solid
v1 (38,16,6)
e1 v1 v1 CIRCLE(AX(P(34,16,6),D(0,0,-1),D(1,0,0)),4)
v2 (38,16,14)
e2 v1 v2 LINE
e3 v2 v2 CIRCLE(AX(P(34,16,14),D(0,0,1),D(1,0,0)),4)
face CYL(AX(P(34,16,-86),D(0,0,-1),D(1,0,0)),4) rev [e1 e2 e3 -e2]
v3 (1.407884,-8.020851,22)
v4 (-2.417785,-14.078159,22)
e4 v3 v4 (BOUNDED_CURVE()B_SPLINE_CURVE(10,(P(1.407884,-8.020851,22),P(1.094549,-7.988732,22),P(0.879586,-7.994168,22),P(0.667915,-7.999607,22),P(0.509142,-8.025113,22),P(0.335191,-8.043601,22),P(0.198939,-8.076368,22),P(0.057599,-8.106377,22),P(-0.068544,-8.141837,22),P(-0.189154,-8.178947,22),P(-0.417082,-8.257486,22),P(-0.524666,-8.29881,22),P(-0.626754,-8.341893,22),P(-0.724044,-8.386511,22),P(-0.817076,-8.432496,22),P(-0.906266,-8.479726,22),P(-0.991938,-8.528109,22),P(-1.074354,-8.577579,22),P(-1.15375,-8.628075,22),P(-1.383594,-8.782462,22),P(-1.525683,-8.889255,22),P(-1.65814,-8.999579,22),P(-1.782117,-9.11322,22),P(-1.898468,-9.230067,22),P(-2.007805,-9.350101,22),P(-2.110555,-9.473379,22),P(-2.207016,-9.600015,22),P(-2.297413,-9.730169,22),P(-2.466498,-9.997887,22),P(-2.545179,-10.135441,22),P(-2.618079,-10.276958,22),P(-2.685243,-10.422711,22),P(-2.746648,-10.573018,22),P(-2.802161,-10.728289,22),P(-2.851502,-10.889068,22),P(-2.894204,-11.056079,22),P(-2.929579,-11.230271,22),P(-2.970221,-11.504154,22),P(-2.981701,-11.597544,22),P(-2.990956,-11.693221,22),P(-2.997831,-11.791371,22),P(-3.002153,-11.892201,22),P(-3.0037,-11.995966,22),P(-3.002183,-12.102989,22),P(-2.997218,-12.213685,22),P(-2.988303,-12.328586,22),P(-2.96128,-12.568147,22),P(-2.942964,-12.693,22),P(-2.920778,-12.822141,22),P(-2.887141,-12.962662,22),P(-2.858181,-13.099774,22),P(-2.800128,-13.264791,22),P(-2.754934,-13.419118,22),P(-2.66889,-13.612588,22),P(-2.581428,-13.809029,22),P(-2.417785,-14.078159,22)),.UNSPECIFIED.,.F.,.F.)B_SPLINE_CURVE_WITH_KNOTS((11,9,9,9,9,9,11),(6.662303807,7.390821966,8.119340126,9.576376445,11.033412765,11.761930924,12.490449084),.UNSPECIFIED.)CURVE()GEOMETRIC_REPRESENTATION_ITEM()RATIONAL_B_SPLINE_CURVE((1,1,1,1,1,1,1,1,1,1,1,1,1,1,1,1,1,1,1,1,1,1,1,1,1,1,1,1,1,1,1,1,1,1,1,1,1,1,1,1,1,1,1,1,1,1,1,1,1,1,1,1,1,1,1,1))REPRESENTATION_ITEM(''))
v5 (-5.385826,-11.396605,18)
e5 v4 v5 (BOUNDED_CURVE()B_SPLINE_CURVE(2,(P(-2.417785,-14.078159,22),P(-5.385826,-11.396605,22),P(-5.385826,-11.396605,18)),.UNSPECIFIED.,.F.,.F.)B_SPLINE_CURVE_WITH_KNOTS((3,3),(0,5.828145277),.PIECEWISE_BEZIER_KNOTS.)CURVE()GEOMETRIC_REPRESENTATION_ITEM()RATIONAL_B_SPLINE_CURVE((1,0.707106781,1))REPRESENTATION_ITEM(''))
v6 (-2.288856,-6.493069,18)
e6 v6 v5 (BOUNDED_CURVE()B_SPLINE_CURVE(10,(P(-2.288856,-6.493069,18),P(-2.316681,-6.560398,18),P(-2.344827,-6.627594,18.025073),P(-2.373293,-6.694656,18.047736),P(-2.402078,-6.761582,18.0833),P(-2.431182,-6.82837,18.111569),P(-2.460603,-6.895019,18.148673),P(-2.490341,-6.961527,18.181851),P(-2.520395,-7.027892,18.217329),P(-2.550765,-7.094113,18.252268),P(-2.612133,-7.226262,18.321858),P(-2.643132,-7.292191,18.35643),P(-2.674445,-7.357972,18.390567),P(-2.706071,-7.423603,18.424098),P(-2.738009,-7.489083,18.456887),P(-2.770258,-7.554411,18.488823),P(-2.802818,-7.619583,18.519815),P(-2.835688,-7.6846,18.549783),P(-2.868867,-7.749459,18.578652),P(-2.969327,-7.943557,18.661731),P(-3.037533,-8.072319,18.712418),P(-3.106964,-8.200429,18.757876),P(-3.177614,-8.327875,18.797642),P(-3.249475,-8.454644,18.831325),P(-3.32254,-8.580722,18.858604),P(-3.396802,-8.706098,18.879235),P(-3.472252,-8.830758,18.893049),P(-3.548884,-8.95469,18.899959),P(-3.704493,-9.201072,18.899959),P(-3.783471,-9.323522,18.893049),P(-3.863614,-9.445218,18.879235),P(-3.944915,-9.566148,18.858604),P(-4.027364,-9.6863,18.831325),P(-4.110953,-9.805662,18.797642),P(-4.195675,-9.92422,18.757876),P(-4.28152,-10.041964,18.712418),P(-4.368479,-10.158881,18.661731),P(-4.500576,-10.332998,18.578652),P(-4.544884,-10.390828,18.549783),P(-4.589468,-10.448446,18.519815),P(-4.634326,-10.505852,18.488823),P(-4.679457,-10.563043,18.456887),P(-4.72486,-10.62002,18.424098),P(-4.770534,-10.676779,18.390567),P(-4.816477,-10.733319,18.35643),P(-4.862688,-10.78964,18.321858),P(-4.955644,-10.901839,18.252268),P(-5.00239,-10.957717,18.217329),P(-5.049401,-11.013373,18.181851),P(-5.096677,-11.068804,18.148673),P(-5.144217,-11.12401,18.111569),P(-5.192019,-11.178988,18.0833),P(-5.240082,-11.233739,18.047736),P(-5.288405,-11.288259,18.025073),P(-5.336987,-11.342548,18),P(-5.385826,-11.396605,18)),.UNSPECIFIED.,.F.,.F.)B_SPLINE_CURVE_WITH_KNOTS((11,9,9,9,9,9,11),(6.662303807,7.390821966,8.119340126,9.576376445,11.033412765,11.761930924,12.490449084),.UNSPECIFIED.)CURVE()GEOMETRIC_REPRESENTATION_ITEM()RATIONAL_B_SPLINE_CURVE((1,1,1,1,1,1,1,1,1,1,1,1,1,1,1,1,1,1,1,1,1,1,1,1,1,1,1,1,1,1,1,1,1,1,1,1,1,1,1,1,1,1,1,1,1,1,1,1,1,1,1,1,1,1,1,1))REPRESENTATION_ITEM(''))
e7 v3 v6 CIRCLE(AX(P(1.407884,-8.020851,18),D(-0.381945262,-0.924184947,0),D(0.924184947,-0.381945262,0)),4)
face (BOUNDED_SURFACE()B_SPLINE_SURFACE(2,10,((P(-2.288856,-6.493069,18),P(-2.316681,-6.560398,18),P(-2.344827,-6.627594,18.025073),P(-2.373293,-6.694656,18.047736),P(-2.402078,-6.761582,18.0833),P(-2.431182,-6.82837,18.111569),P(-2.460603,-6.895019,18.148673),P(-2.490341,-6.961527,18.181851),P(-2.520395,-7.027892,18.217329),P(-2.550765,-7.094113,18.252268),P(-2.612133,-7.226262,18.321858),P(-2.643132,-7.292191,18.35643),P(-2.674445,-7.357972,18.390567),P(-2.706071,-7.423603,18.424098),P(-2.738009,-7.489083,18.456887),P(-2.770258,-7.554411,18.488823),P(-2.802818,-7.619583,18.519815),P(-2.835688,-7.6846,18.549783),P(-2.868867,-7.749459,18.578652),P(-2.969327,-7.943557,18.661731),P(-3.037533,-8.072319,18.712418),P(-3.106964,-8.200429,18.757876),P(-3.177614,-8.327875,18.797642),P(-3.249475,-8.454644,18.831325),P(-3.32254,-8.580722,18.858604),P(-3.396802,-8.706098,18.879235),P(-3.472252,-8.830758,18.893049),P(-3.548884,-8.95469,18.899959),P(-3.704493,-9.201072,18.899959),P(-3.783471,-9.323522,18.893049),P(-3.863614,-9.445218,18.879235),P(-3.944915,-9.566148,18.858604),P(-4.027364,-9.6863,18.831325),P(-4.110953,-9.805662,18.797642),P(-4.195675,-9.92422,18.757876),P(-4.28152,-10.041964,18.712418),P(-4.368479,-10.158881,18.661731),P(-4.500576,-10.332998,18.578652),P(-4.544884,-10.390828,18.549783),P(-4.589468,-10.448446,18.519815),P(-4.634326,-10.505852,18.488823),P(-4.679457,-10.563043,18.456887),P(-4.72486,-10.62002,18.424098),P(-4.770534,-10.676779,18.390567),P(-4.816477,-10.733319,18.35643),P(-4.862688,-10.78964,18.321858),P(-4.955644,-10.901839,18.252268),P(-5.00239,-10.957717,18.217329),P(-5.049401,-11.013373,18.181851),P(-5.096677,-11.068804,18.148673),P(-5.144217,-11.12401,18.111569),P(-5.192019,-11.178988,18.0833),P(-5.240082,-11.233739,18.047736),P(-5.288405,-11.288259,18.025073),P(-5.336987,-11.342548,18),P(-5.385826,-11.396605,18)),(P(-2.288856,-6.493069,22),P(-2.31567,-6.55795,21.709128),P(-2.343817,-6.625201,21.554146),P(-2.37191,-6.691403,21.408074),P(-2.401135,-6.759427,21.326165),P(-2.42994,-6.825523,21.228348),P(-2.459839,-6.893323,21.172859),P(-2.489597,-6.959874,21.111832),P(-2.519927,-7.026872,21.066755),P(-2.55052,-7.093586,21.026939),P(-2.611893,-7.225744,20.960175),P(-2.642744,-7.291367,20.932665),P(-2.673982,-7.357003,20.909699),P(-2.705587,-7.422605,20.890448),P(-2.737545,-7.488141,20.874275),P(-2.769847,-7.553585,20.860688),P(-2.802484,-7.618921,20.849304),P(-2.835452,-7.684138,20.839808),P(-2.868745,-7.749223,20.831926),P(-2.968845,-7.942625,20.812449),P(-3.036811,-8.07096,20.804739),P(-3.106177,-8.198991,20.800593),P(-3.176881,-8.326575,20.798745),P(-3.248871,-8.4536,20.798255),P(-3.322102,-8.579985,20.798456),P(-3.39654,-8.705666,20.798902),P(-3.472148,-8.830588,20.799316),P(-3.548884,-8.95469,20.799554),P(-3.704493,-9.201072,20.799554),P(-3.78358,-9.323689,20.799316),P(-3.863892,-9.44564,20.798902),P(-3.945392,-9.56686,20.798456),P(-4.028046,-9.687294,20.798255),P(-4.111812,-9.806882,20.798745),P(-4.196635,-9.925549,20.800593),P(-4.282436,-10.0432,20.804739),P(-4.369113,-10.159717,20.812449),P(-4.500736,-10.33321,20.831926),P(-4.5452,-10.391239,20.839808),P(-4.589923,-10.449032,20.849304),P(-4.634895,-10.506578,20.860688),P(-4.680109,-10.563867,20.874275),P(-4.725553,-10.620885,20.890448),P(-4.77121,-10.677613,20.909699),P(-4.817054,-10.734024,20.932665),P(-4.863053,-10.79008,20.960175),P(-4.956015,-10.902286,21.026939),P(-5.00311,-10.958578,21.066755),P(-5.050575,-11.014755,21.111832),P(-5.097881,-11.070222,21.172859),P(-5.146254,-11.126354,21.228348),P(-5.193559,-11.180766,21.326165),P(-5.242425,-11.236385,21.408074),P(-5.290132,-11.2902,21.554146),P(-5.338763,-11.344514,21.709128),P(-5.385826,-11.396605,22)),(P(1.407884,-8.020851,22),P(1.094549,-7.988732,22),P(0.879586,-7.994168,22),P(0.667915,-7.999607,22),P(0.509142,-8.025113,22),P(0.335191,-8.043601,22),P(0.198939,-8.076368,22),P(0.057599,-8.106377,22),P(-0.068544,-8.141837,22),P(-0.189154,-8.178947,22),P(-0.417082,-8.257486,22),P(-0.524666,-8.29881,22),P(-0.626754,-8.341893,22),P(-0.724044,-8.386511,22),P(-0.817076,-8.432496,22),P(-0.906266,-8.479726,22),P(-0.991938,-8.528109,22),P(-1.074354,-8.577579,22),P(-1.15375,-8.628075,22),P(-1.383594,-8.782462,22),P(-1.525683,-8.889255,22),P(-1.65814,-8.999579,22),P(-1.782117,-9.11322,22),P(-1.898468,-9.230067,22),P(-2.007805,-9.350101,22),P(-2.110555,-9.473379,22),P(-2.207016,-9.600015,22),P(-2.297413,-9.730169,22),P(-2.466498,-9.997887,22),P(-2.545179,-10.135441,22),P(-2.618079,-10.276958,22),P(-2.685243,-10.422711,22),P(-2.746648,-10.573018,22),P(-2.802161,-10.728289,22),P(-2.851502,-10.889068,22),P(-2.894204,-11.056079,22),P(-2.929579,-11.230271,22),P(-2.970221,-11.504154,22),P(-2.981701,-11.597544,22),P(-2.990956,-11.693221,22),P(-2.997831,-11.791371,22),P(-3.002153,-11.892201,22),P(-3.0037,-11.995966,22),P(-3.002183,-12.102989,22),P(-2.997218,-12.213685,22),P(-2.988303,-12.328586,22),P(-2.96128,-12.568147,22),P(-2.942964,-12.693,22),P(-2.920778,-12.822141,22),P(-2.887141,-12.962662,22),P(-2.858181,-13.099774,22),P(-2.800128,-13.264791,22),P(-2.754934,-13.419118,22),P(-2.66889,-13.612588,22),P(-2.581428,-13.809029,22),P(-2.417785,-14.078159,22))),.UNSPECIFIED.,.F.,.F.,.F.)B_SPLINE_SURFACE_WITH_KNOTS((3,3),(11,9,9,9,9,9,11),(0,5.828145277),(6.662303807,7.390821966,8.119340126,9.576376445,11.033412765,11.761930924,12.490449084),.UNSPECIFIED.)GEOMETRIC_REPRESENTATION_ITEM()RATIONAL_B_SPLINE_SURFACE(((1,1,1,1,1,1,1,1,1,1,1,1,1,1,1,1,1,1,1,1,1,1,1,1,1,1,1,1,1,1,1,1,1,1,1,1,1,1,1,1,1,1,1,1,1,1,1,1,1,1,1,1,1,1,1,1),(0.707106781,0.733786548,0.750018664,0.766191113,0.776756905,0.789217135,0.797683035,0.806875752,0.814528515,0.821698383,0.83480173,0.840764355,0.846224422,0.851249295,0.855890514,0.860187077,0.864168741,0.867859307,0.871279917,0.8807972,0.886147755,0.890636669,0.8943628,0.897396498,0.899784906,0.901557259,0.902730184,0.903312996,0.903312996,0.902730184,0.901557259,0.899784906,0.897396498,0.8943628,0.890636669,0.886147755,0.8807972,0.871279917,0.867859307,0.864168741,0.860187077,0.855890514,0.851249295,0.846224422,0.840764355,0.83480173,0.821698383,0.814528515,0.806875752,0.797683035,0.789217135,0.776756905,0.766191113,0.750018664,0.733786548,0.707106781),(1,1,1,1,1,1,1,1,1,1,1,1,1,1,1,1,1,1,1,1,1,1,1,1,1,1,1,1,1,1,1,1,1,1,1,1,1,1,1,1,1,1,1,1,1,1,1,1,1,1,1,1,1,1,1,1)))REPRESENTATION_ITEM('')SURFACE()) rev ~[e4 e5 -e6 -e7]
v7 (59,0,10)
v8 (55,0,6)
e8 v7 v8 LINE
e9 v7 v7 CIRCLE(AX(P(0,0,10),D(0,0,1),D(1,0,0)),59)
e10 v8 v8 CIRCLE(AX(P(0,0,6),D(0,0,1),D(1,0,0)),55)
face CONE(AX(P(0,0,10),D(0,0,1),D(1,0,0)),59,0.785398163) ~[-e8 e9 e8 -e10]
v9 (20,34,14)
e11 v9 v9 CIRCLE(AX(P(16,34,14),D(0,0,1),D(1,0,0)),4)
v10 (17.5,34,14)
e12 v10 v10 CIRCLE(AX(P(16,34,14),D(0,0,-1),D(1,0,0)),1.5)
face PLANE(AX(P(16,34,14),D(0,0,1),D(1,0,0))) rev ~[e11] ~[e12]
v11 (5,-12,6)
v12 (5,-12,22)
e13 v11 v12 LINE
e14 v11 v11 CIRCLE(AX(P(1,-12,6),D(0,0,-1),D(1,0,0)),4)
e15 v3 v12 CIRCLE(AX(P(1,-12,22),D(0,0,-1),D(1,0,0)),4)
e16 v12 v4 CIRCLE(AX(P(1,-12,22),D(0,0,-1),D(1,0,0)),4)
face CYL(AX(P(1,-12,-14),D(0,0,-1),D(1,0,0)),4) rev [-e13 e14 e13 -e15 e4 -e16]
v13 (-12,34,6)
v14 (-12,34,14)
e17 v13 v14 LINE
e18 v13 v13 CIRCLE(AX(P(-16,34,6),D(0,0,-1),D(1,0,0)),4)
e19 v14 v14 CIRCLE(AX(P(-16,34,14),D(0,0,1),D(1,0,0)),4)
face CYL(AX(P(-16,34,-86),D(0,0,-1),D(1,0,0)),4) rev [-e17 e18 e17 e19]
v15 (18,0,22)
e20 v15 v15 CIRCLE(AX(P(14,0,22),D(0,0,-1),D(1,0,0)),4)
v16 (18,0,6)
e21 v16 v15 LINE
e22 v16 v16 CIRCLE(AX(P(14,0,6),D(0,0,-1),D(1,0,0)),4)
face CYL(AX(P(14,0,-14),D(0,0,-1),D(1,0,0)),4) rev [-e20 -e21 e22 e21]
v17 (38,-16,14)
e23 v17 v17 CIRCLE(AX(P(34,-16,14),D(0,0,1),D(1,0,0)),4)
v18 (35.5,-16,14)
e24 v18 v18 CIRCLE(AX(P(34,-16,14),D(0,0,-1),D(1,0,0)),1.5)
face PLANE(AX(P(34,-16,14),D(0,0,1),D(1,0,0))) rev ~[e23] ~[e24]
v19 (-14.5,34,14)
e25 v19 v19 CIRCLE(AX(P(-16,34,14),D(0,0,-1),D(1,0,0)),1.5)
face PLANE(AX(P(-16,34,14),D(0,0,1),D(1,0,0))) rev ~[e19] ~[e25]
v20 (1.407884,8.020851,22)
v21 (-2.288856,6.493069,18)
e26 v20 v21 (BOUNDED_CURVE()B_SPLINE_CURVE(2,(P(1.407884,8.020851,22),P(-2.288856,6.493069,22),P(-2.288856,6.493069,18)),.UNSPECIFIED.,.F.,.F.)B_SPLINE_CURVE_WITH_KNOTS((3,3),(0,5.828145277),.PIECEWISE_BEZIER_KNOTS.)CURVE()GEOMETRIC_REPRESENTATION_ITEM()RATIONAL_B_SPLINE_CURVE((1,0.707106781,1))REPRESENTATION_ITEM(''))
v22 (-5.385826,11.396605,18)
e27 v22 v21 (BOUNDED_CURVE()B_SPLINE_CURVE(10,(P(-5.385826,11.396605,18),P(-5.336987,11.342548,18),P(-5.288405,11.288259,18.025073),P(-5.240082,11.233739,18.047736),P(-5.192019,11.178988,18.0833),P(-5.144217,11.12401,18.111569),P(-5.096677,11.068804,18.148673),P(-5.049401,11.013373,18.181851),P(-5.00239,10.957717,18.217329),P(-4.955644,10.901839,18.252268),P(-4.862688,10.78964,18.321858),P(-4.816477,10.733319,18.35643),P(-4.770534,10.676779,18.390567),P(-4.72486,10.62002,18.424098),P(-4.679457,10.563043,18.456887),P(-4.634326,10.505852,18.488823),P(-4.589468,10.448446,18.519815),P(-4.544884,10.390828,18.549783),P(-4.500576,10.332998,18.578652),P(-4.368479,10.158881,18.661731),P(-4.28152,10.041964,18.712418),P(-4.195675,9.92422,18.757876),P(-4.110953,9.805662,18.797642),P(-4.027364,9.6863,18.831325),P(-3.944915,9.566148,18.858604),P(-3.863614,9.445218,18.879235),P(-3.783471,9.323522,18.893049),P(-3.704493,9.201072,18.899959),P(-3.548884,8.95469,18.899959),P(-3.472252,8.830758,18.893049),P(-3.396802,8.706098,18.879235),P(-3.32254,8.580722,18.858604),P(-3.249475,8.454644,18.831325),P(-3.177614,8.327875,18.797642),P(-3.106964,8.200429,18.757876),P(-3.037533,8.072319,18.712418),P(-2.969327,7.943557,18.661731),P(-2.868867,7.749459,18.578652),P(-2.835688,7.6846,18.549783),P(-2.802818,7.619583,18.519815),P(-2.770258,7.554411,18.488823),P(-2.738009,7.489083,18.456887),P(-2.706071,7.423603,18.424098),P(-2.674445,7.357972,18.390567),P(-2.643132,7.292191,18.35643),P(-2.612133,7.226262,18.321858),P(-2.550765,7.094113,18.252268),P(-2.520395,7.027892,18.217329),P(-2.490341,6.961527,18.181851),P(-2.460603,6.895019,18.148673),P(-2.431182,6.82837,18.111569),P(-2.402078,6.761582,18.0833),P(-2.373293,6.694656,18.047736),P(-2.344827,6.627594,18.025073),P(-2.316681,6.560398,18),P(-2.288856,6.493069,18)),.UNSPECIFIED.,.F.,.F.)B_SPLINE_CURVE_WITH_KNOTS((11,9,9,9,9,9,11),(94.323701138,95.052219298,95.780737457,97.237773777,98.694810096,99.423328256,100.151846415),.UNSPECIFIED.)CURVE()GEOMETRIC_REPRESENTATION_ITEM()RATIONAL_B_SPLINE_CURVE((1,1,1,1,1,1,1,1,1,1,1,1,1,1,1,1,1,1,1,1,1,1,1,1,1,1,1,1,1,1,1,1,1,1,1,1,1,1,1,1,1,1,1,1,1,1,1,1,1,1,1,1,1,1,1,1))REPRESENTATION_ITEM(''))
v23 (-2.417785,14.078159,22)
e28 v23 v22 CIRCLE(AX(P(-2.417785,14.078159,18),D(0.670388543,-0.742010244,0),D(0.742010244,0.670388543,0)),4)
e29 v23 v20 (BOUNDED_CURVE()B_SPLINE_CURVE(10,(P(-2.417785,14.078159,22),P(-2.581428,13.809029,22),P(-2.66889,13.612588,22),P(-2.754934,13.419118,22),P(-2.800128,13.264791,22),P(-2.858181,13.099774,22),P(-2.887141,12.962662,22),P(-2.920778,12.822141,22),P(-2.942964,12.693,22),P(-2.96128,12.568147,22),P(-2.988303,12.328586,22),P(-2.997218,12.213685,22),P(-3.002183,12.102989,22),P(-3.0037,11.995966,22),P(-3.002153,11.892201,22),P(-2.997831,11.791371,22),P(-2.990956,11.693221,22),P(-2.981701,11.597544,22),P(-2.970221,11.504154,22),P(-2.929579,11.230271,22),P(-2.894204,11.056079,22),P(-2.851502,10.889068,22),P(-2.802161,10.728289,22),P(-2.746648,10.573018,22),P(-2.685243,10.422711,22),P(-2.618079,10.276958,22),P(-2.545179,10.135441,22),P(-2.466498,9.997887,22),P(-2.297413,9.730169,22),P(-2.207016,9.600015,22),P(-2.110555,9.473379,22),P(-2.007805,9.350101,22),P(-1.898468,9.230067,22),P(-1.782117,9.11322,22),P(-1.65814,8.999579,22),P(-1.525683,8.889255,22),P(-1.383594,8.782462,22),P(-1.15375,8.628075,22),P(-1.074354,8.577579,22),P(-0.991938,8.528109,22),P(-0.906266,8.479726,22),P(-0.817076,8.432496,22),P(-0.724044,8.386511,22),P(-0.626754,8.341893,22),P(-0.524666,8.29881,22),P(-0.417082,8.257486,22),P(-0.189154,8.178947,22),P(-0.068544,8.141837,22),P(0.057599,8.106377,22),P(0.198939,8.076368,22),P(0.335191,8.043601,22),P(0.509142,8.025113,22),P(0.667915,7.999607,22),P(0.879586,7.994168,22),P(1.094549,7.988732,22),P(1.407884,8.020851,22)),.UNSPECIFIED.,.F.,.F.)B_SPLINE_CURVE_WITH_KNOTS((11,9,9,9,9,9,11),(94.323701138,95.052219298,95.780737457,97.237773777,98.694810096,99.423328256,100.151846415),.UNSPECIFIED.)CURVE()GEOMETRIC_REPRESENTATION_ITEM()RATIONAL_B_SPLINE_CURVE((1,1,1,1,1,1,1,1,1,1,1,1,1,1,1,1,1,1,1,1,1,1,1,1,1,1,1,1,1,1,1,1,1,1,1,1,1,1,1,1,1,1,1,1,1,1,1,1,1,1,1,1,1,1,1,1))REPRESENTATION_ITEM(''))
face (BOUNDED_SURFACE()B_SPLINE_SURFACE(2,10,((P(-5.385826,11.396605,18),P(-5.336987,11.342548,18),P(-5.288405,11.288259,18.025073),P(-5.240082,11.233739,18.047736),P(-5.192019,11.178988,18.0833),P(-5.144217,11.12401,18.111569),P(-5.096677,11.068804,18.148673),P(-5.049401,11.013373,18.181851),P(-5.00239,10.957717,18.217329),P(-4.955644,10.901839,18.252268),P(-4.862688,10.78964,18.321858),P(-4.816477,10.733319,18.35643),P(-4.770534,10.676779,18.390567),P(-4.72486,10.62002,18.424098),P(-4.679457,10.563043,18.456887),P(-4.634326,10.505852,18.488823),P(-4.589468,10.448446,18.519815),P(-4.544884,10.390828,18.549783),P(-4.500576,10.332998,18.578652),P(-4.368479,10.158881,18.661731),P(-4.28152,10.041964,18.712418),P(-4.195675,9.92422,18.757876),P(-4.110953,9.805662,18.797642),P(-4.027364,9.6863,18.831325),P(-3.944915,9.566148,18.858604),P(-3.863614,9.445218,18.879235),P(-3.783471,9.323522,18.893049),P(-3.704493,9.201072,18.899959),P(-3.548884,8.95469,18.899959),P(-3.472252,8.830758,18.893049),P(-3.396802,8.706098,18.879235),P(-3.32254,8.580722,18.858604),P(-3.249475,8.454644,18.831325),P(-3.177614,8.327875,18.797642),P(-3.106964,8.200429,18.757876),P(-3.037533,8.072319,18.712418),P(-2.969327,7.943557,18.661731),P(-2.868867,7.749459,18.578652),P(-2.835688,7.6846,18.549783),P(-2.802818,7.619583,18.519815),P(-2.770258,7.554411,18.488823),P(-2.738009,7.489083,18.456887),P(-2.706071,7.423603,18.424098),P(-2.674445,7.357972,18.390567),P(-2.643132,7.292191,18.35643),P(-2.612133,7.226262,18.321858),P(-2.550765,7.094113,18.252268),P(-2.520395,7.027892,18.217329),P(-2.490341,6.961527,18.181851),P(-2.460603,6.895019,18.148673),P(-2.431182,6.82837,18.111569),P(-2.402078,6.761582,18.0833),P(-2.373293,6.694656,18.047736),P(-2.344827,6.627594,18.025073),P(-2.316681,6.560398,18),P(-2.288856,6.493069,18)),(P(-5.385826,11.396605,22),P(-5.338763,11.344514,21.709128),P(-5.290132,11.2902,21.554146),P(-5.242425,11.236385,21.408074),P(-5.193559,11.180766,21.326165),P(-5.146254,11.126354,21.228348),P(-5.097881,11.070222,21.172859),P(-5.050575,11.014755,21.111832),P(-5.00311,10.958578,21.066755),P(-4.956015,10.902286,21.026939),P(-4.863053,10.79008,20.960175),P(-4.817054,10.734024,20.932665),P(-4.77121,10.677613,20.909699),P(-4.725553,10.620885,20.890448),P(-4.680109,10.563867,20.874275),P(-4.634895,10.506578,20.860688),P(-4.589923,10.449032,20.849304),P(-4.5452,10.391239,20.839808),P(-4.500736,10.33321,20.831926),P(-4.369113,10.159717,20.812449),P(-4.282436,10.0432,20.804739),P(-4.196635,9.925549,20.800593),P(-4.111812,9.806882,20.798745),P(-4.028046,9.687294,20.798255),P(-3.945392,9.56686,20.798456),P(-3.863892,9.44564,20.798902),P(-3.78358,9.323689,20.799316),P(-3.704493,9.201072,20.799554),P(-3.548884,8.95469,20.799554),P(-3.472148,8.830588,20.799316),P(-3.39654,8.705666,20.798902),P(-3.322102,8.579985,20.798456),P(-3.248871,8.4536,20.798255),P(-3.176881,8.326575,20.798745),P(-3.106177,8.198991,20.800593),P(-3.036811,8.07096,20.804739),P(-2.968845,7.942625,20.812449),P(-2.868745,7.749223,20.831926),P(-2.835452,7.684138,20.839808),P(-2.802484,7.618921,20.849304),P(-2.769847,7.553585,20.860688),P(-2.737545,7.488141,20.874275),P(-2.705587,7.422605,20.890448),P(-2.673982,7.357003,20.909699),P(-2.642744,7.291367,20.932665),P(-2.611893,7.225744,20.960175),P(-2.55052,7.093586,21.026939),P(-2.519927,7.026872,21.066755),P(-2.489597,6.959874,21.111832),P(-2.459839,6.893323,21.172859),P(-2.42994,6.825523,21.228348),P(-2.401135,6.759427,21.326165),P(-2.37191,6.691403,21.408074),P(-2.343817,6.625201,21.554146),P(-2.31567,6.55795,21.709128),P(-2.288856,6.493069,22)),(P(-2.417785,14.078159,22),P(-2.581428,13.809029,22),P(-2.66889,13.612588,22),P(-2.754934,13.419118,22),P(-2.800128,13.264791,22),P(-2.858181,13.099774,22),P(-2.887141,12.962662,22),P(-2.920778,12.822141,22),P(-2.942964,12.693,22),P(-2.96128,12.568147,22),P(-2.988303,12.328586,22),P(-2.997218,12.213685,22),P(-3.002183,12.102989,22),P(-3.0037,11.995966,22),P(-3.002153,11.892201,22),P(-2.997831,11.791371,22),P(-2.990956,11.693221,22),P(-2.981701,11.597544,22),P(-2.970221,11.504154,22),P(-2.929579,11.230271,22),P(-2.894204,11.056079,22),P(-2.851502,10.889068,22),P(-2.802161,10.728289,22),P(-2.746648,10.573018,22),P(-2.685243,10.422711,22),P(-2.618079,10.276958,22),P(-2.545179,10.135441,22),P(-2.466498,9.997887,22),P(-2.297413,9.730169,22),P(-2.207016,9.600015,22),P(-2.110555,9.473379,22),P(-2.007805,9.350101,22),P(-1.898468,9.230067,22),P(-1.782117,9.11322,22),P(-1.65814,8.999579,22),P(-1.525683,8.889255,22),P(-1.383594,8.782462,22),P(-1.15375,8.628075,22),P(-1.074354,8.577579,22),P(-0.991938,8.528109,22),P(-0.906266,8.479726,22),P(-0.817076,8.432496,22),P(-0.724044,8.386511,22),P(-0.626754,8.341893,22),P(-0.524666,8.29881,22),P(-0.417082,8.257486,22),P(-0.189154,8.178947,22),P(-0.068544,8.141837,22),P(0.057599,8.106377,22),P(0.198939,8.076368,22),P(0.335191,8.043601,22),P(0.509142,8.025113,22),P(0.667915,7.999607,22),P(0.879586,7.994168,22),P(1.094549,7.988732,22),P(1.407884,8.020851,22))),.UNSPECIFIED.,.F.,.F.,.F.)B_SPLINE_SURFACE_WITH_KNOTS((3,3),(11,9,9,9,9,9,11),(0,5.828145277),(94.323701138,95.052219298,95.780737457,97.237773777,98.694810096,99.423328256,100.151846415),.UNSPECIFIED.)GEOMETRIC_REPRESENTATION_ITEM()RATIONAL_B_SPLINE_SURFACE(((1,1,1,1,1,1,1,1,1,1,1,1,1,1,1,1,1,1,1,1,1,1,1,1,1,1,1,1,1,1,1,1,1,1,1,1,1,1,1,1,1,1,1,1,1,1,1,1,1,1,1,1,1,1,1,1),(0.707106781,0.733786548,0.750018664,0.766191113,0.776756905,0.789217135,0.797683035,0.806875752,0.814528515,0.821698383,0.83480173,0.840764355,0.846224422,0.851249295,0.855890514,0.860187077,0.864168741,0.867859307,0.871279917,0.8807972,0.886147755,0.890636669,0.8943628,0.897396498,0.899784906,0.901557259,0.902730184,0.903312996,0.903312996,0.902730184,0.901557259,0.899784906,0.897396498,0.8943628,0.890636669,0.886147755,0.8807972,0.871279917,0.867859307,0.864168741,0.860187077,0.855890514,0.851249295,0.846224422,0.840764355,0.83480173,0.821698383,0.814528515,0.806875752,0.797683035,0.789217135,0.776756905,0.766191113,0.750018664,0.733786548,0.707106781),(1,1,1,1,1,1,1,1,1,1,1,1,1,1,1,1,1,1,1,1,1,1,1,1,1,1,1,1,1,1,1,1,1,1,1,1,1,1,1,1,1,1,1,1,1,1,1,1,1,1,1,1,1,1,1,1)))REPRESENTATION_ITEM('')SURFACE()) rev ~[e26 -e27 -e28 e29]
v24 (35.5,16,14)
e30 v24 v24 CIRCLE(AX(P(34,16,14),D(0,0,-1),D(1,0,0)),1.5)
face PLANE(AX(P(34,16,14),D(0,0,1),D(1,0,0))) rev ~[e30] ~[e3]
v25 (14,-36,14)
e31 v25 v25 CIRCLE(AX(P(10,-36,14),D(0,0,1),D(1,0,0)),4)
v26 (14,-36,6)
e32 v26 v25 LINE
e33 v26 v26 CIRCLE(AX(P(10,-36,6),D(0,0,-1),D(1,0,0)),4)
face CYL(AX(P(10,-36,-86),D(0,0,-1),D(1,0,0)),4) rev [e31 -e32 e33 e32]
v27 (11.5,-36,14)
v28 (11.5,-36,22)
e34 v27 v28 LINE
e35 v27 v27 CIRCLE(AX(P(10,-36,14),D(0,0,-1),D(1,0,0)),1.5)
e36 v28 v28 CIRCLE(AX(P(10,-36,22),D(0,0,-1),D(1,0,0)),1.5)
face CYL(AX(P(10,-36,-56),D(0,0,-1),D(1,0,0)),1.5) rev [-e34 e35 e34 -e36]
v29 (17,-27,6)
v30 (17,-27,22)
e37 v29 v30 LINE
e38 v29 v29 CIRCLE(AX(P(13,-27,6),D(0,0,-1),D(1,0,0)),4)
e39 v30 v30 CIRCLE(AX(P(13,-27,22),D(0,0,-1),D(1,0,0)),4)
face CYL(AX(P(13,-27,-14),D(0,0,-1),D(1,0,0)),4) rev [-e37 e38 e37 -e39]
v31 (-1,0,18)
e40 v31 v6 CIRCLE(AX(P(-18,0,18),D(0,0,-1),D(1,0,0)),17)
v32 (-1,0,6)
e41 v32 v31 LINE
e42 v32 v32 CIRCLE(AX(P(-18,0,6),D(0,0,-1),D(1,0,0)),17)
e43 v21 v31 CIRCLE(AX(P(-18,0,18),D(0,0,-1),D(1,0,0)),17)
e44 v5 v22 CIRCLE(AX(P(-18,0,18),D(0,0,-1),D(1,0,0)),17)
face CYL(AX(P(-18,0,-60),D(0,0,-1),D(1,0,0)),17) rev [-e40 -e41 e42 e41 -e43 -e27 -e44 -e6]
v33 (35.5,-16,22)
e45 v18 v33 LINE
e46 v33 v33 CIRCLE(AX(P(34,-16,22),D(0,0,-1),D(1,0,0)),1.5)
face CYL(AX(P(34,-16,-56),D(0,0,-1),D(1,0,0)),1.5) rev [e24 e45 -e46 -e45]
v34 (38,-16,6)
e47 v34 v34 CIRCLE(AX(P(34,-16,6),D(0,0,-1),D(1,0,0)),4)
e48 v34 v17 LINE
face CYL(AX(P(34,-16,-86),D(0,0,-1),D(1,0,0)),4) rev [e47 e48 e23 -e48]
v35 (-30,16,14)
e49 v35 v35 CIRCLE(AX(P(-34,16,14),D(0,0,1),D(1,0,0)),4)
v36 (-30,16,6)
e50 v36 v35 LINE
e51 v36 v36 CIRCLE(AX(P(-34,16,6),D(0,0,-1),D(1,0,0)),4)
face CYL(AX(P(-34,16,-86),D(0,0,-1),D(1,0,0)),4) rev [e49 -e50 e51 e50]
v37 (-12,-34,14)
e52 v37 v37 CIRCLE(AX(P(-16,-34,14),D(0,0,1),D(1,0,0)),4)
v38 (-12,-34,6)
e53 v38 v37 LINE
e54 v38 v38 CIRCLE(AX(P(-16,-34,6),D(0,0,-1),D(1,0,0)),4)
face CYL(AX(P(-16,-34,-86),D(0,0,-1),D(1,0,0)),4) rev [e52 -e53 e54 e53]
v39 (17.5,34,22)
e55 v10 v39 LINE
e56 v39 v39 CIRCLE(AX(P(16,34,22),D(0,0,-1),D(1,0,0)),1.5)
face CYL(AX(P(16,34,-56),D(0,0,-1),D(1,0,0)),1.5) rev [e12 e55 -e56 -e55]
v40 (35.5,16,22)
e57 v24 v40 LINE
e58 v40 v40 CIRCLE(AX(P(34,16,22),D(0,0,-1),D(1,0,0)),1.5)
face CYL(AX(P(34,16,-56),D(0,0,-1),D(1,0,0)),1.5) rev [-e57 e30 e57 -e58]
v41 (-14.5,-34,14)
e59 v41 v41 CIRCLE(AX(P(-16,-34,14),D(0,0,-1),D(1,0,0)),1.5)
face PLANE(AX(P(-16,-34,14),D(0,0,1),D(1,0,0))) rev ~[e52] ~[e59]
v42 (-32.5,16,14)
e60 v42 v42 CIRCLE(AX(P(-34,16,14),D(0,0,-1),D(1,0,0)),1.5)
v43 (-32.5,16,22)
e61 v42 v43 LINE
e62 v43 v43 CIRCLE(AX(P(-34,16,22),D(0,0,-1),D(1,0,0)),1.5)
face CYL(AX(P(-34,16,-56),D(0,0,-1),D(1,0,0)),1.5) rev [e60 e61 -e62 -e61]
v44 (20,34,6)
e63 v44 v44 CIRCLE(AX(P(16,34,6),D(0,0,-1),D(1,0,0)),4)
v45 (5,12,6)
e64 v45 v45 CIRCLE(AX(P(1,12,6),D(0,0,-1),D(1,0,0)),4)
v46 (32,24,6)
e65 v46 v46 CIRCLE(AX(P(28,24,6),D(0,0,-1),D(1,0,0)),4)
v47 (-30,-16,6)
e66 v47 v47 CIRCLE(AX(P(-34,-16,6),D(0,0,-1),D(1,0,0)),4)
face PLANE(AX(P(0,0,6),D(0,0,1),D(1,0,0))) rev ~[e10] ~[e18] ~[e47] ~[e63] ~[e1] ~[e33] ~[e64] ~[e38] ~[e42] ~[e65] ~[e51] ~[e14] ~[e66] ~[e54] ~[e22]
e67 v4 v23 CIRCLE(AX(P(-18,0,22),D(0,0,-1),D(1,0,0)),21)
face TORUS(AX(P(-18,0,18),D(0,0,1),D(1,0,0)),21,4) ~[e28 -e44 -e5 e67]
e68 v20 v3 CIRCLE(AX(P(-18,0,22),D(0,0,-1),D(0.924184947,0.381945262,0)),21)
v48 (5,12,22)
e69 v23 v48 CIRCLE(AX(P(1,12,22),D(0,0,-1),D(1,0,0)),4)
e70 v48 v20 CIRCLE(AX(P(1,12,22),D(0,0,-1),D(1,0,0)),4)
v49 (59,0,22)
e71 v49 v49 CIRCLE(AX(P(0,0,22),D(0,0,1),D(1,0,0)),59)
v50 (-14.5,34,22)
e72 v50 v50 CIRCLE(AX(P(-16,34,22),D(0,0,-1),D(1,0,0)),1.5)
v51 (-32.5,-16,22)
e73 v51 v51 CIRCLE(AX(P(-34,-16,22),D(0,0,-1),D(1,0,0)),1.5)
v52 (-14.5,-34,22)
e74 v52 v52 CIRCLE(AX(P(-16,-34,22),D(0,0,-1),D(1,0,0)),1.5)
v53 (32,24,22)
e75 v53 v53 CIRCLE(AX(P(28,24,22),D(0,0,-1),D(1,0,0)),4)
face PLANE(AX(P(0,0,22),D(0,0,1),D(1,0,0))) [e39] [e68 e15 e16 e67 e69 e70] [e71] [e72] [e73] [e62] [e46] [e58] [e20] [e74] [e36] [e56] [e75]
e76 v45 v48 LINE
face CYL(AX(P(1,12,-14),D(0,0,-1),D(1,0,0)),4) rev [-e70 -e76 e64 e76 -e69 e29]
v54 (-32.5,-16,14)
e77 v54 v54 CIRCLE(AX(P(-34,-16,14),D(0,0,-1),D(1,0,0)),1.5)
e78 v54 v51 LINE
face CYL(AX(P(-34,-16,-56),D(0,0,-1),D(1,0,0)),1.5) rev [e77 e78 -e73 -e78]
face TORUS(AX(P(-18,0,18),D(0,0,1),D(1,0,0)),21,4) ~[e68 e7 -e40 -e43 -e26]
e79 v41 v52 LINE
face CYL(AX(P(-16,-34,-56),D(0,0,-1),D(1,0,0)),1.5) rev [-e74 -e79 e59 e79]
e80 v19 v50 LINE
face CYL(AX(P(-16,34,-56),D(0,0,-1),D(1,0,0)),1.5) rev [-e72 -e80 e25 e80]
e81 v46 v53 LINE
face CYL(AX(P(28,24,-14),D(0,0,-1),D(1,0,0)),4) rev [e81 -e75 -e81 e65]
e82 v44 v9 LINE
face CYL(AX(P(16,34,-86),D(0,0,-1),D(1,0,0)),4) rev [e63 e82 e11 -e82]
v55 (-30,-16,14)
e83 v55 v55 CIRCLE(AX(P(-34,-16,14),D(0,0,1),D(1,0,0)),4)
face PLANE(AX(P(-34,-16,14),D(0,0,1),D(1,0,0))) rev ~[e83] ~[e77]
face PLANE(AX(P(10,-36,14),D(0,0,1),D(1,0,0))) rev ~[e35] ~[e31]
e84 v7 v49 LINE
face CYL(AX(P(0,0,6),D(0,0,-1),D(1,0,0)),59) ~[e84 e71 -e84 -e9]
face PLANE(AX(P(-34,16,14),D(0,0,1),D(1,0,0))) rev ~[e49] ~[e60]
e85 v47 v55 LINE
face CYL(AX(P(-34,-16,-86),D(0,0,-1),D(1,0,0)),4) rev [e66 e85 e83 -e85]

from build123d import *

# Parameters (mm, degrees)
CYLINDER1694_R     = 17
CYLINDER1694_DEPTH = 160
CYLINDER1713_R     = 4
CYLINDER1713_DEPTH = 100
CYLINDER1712_R     = 4
CYLINDER1712_DEPTH = 100
CYLINDER1696_R     = 1.5
CYLINDER1696_DEPTH = 100
CYLINDER1697_R     = 1.5
CYLINDER1697_DEPTH = 100
CYLINDER1698_R     = 1.5
CYLINDER1698_DEPTH = 100
CYLINDER1699_R     = 1.5
CYLINDER1699_DEPTH = 100
CYLINDER1700_R     = 1.5
CYLINDER1700_DEPTH = 100
CYLINDER1701_R     = 1.5
CYLINDER1701_DEPTH = 100
CYLINDER1702_R     = 1.5
CYLINDER1702_DEPTH = 100
CYLINDER1695_R     = 1.5
CYLINDER1695_DEPTH = 100
CYLINDER1716_R     = 4
CYLINDER1716_DEPTH = 100
CYLINDER1714_R     = 4
CYLINDER1714_DEPTH = 100
CYLINDER1717_R     = 4
CYLINDER1717_DEPTH = 100
CYLINDER1718_R     = 4
CYLINDER1718_DEPTH = 100
CYLINDER1719_R     = 4
CYLINDER1719_DEPTH = 100
CYLINDER1720_R     = 4
CYLINDER1720_DEPTH = 100
CYLINDER1721_R     = 4
CYLINDER1721_DEPTH = 100
CYLINDER1715_R     = 4
CYLINDER1715_DEPTH = 100
CYLINDER1705_R     = 4
CYLINDER1705_DEPTH = 20
CYLINDER1706_R     = 4
CYLINDER1706_DEPTH = 20
CYLINDER1707_R     = 4
CYLINDER1707_DEPTH = 20
CYLINDER1708_R     = 4
CYLINDER1708_DEPTH = 40
CYLINDER1709_R     = 4
CYLINDER1709_DEPTH = 40
CYLINDER1710_R     = 4
CYLINDER1710_DEPTH = 40
CYLINDER1711_R     = 4
CYLINDER1711_DEPTH = 40
CYLINDER1704_R     = 4
CYLINDER1704_DEPTH = 20
CYLINDER1703_R     = 59
CYLINDER1703_DEPTH = 16
CHAMFER059_SIZE    = 4
FILLET003_R        = 4


with BuildPart() as v_lec1694:
    # Cylinder1694 → Cylinder1694 (new body)
    with BuildSketch(Plane(origin=(-18, 0, -60), x_dir=(1, 0, 0), z_dir=(0, 0, 1))):
        Circle(CYLINDER1694_R)
    extrude(amount=CYLINDER1694_DEPTH)


with BuildPart() as v_lec1713:
    # Cylinder1713 → Cylinder1713 (new body)
    with BuildSketch(Plane(origin=(14, 0, -18), x_dir=(1, 0, 0), z_dir=(0, 0, 1))):
        Circle(CYLINDER1713_R)
    extrude(amount=CYLINDER1713_DEPTH)


with BuildPart() as srouby_troj_silne008:
    # Cylinder1712 → Cylinder1712 (new body)
    with BuildSketch(Plane(origin=(90, 0, -18), x_dir=(1, 0, 0), z_dir=(0, 0, 1))):
        Circle(CYLINDER1712_R)
    extrude(amount=CYLINDER1712_DEPTH)

    # Compound941: union Válec1713
    add(v_lec1713.part)


with BuildPart() as v_lec1696:
    # Cylinder1696 → Cylinder1696 (new body)
    with BuildSketch(Plane(origin=(-34, -16, -60), x_dir=(1, 0, 0), z_dir=(0, 0, 1))):
        Circle(CYLINDER1696_R)
    extrude(amount=CYLINDER1696_DEPTH)


with BuildPart() as v_lec1697:
    # Cylinder1697 → Cylinder1697 (new body)
    with BuildSketch(Plane(origin=(34, -16, -60), x_dir=(1, 0, 0), z_dir=(0, 0, 1))):
        Circle(CYLINDER1697_R)
    extrude(amount=CYLINDER1697_DEPTH)


with BuildPart() as v_lec1698:
    # Cylinder1698 → Cylinder1698 (new body)
    with BuildSketch(Plane(origin=(34, 16, -60), x_dir=(1, 0, 0), z_dir=(0, 0, 1))):
        Circle(CYLINDER1698_R)
    extrude(amount=CYLINDER1698_DEPTH)


with BuildPart() as v_lec1699:
    # Cylinder1699 → Cylinder1699 (new body)
    with BuildSketch(Plane(origin=(16, 34, -60), x_dir=(1, 0, 0), z_dir=(0, 0, 1))):
        Circle(CYLINDER1699_R)
    extrude(amount=CYLINDER1699_DEPTH)


with BuildPart() as v_lec1700:
    # Cylinder1700 → Cylinder1700 (new body)
    with BuildSketch(Plane(origin=(10, -36, -60), x_dir=(1, 0, 0), z_dir=(0, 0, 1))):
        Circle(CYLINDER1700_R)
    extrude(amount=CYLINDER1700_DEPTH)


with BuildPart() as v_lec1701:
    # Cylinder1701 → Cylinder1701 (new body)
    with BuildSketch(Plane(origin=(-16, -34, -60), x_dir=(1, 0, 0), z_dir=(0, 0, 1))):
        Circle(CYLINDER1701_R)
    extrude(amount=CYLINDER1701_DEPTH)


with BuildPart() as v_lec1702:
    # Cylinder1702 → Cylinder1702 (new body)
    with BuildSketch(Plane(origin=(-16, 34, -60), x_dir=(1, 0, 0), z_dir=(0, 0, 1))):
        Circle(CYLINDER1702_R)
    extrude(amount=CYLINDER1702_DEPTH)


with BuildPart() as sbouby_baze010:
    # Cylinder1695 → Cylinder1695 (new body)
    with BuildSketch(Plane(origin=(-34, 16, -60), x_dir=(1, 0, 0), z_dir=(0, 0, 1))):
        Circle(CYLINDER1695_R)
    extrude(amount=CYLINDER1695_DEPTH)

    # Compound938: union Válec1696, Válec1697, Válec1698, Válec1699, Válec1700, Válec1701, Válec1702
    add(v_lec1696.part)
    add(v_lec1697.part)
    add(v_lec1698.part)
    add(v_lec1699.part)
    add(v_lec1700.part)
    add(v_lec1701.part)
    add(v_lec1702.part)


with BuildPart() as v_lec1716:
    # Cylinder1716 → Cylinder1716 (new body)
    with BuildSketch(Plane(origin=(-16, 34, -90), x_dir=(1, 0, 0), z_dir=(0, 0, 1))):
        Circle(CYLINDER1716_R)
    extrude(amount=CYLINDER1716_DEPTH)


with BuildPart() as v_lec1714:
    # Cylinder1714 → Cylinder1714 (new body)
    with BuildSketch(Plane(origin=(-16, -34, -90), x_dir=(1, 0, 0), z_dir=(0, 0, 1))):
        Circle(CYLINDER1714_R)
    extrude(amount=CYLINDER1714_DEPTH)


with BuildPart() as v_lec1717:
    # Cylinder1717 → Cylinder1717 (new body)
    with BuildSketch(Plane(origin=(34, -16, -90), x_dir=(1, 0, 0), z_dir=(0, 0, 1))):
        Circle(CYLINDER1717_R)
    extrude(amount=CYLINDER1717_DEPTH)


with BuildPart() as v_lec1718:
    # Cylinder1718 → Cylinder1718 (new body)
    with BuildSketch(Plane(origin=(16, 34, -90), x_dir=(1, 0, 0), z_dir=(0, 0, 1))):
        Circle(CYLINDER1718_R)
    extrude(amount=CYLINDER1718_DEPTH)


with BuildPart() as v_lec1719:
    # Cylinder1719 → Cylinder1719 (new body)
    with BuildSketch(Plane(origin=(10, -36, -90), x_dir=(1, 0, 0), z_dir=(0, 0, 1))):
        Circle(CYLINDER1719_R)
    extrude(amount=CYLINDER1719_DEPTH)


with BuildPart() as v_lec1720:
    # Cylinder1720 → Cylinder1720 (new body)
    with BuildSketch(Plane(origin=(-34, 16, -90), x_dir=(1, 0, 0), z_dir=(0, 0, 1))):
        Circle(CYLINDER1720_R)
    extrude(amount=CYLINDER1720_DEPTH)


with BuildPart() as v_lec1721:
    # Cylinder1721 → Cylinder1721 (new body)
    with BuildSketch(Plane(origin=(34, 16, -90), x_dir=(1, 0, 0), z_dir=(0, 0, 1))):
        Circle(CYLINDER1721_R)
    extrude(amount=CYLINDER1721_DEPTH)


with BuildPart() as sbouby_baze_silne014:
    # Cylinder1715 → Cylinder1715 (new body)
    with BuildSketch(Plane(origin=(-34, -16, -90), x_dir=(1, 0, 0), z_dir=(0, 0, 1))):
        Circle(CYLINDER1715_R)
    extrude(amount=CYLINDER1715_DEPTH)

    # Compound940: union Válec1716, Válec1714, Válec1717, Válec1718, Válec1719, Válec1720, Válec1721
    add(v_lec1716.part)
    add(v_lec1714.part)
    add(v_lec1717.part)
    add(v_lec1718.part)
    add(v_lec1719.part)
    add(v_lec1720.part)
    add(v_lec1721.part)


with BuildPart() as v_lec1705:
    # Cylinder1705 → Cylinder1705 (new body)
    with BuildSketch(Plane(origin=(103, 12, -20), x_dir=(1, 0, 0), z_dir=(0, 0, 1))):
        Circle(CYLINDER1705_R)
    extrude(amount=CYLINDER1705_DEPTH)


with BuildPart() as v_lec1706:
    # Cylinder1706 → Cylinder1706 (new body)
    with BuildSketch(Plane(origin=(76, 24, -18), x_dir=(1, 0, 0), z_dir=(0, 0, 1))):
        Circle(CYLINDER1706_R)
    extrude(amount=CYLINDER1706_DEPTH)


with BuildPart() as v_lec1707:
    # Cylinder1707 → Cylinder1707 (new body)
    with BuildSketch(Plane(origin=(91, -27, -18), x_dir=(1, 0, 0), z_dir=(0, 0, 1))):
        Circle(CYLINDER1707_R)
    extrude(amount=CYLINDER1707_DEPTH)


with BuildPart() as v_lec1708:
    # Cylinder1708 → Cylinder1708 (new body)
    with BuildSketch(Plane(origin=(13, -27, -18), x_dir=(1, 0, 0), z_dir=(0, 0, 1))):
        Circle(CYLINDER1708_R)
    extrude(amount=CYLINDER1708_DEPTH)


with BuildPart() as v_lec1709:
    # Cylinder1709 → Cylinder1709 (new body)
    with BuildSketch(Plane(origin=(28, 24, -18), x_dir=(1, 0, 0), z_dir=(0, 0, 1))):
        Circle(CYLINDER1709_R)
    extrude(amount=CYLINDER1709_DEPTH)


with BuildPart() as v_lec1710:
    # Cylinder1710 → Cylinder1710 (new body)
    with BuildSketch(Plane(origin=(1, -12, -18), x_dir=(1, 0, 0), z_dir=(0, 0, 1))):
        Circle(CYLINDER1710_R)
    extrude(amount=CYLINDER1710_DEPTH)


with BuildPart() as v_lec1711:
    # Cylinder1711 → Cylinder1711 (new body)
    with BuildSketch(Plane(origin=(1, 12, -18), x_dir=(1, 0, 0), z_dir=(0, 0, 1))):
        Circle(CYLINDER1711_R)
    extrude(amount=CYLINDER1711_DEPTH)


with BuildPart() as srouby_monoblok_silne011:
    # Cylinder1704 → Cylinder1704 (new body)
    with BuildSketch(Plane(origin=(103, -12, -20), x_dir=(1, 0, 0), z_dir=(0, 0, 1))):
        Circle(CYLINDER1704_R)
    extrude(amount=CYLINDER1704_DEPTH)

    # Compound939: union Válec1705, Válec1706, Válec1707, Válec1708, Válec1709, Válec1710, Válec1711
    add(v_lec1705.part)
    add(v_lec1706.part)
    add(v_lec1707.part)
    add(v_lec1708.part)
    add(v_lec1709.part)
    add(v_lec1710.part)
    add(v_lec1711.part)


with BuildPart() as fillet003:
    # Cylinder1703 → Cylinder1703 (new body)
    with BuildSketch(Plane.XY.offset(2)):
        Circle(CYLINDER1703_R)
    extrude(amount=CYLINDER1703_DEPTH)

    # Cut593: cut srouby_monoblok_silne011
    add(srouby_monoblok_silne011.part, mode=Mode.SUBTRACT)

    # Cut594: cut sbouby_baze_silne014
    add(sbouby_baze_silne014.part, mode=Mode.SUBTRACT)

    # Cut595: cut sbouby_baze010
    add(sbouby_baze010.part, mode=Mode.SUBTRACT)

    # Chamfer059
    chamfer059_edges = [fillet003.edges().sort_by_distance(p)[0] for p in [
        (-59, 0, 2),
    ]]
    chamfer(chamfer059_edges, length=CHAMFER059_SIZE)

    # Cut596: cut srouby_troj_silne008
    add(srouby_troj_silne008.part, mode=Mode.SUBTRACT)


with BuildPart() as fillet003_1:
    # Cut596 placement: moved
    add(fillet003.part.moved(Location((0, 0, 4))))

    # Cut585: cut Válec1694
    add(v_lec1694.part, mode=Mode.SUBTRACT)

    # Fillet003
    fillet003_edges = [fillet003_1.edges().sort_by_distance(p)[0] for p in [
        (-35, 0, 22),
    ]]
    fillet(fillet003_edges, radius=FILLET003_R)


solid = fillet003_1.part
